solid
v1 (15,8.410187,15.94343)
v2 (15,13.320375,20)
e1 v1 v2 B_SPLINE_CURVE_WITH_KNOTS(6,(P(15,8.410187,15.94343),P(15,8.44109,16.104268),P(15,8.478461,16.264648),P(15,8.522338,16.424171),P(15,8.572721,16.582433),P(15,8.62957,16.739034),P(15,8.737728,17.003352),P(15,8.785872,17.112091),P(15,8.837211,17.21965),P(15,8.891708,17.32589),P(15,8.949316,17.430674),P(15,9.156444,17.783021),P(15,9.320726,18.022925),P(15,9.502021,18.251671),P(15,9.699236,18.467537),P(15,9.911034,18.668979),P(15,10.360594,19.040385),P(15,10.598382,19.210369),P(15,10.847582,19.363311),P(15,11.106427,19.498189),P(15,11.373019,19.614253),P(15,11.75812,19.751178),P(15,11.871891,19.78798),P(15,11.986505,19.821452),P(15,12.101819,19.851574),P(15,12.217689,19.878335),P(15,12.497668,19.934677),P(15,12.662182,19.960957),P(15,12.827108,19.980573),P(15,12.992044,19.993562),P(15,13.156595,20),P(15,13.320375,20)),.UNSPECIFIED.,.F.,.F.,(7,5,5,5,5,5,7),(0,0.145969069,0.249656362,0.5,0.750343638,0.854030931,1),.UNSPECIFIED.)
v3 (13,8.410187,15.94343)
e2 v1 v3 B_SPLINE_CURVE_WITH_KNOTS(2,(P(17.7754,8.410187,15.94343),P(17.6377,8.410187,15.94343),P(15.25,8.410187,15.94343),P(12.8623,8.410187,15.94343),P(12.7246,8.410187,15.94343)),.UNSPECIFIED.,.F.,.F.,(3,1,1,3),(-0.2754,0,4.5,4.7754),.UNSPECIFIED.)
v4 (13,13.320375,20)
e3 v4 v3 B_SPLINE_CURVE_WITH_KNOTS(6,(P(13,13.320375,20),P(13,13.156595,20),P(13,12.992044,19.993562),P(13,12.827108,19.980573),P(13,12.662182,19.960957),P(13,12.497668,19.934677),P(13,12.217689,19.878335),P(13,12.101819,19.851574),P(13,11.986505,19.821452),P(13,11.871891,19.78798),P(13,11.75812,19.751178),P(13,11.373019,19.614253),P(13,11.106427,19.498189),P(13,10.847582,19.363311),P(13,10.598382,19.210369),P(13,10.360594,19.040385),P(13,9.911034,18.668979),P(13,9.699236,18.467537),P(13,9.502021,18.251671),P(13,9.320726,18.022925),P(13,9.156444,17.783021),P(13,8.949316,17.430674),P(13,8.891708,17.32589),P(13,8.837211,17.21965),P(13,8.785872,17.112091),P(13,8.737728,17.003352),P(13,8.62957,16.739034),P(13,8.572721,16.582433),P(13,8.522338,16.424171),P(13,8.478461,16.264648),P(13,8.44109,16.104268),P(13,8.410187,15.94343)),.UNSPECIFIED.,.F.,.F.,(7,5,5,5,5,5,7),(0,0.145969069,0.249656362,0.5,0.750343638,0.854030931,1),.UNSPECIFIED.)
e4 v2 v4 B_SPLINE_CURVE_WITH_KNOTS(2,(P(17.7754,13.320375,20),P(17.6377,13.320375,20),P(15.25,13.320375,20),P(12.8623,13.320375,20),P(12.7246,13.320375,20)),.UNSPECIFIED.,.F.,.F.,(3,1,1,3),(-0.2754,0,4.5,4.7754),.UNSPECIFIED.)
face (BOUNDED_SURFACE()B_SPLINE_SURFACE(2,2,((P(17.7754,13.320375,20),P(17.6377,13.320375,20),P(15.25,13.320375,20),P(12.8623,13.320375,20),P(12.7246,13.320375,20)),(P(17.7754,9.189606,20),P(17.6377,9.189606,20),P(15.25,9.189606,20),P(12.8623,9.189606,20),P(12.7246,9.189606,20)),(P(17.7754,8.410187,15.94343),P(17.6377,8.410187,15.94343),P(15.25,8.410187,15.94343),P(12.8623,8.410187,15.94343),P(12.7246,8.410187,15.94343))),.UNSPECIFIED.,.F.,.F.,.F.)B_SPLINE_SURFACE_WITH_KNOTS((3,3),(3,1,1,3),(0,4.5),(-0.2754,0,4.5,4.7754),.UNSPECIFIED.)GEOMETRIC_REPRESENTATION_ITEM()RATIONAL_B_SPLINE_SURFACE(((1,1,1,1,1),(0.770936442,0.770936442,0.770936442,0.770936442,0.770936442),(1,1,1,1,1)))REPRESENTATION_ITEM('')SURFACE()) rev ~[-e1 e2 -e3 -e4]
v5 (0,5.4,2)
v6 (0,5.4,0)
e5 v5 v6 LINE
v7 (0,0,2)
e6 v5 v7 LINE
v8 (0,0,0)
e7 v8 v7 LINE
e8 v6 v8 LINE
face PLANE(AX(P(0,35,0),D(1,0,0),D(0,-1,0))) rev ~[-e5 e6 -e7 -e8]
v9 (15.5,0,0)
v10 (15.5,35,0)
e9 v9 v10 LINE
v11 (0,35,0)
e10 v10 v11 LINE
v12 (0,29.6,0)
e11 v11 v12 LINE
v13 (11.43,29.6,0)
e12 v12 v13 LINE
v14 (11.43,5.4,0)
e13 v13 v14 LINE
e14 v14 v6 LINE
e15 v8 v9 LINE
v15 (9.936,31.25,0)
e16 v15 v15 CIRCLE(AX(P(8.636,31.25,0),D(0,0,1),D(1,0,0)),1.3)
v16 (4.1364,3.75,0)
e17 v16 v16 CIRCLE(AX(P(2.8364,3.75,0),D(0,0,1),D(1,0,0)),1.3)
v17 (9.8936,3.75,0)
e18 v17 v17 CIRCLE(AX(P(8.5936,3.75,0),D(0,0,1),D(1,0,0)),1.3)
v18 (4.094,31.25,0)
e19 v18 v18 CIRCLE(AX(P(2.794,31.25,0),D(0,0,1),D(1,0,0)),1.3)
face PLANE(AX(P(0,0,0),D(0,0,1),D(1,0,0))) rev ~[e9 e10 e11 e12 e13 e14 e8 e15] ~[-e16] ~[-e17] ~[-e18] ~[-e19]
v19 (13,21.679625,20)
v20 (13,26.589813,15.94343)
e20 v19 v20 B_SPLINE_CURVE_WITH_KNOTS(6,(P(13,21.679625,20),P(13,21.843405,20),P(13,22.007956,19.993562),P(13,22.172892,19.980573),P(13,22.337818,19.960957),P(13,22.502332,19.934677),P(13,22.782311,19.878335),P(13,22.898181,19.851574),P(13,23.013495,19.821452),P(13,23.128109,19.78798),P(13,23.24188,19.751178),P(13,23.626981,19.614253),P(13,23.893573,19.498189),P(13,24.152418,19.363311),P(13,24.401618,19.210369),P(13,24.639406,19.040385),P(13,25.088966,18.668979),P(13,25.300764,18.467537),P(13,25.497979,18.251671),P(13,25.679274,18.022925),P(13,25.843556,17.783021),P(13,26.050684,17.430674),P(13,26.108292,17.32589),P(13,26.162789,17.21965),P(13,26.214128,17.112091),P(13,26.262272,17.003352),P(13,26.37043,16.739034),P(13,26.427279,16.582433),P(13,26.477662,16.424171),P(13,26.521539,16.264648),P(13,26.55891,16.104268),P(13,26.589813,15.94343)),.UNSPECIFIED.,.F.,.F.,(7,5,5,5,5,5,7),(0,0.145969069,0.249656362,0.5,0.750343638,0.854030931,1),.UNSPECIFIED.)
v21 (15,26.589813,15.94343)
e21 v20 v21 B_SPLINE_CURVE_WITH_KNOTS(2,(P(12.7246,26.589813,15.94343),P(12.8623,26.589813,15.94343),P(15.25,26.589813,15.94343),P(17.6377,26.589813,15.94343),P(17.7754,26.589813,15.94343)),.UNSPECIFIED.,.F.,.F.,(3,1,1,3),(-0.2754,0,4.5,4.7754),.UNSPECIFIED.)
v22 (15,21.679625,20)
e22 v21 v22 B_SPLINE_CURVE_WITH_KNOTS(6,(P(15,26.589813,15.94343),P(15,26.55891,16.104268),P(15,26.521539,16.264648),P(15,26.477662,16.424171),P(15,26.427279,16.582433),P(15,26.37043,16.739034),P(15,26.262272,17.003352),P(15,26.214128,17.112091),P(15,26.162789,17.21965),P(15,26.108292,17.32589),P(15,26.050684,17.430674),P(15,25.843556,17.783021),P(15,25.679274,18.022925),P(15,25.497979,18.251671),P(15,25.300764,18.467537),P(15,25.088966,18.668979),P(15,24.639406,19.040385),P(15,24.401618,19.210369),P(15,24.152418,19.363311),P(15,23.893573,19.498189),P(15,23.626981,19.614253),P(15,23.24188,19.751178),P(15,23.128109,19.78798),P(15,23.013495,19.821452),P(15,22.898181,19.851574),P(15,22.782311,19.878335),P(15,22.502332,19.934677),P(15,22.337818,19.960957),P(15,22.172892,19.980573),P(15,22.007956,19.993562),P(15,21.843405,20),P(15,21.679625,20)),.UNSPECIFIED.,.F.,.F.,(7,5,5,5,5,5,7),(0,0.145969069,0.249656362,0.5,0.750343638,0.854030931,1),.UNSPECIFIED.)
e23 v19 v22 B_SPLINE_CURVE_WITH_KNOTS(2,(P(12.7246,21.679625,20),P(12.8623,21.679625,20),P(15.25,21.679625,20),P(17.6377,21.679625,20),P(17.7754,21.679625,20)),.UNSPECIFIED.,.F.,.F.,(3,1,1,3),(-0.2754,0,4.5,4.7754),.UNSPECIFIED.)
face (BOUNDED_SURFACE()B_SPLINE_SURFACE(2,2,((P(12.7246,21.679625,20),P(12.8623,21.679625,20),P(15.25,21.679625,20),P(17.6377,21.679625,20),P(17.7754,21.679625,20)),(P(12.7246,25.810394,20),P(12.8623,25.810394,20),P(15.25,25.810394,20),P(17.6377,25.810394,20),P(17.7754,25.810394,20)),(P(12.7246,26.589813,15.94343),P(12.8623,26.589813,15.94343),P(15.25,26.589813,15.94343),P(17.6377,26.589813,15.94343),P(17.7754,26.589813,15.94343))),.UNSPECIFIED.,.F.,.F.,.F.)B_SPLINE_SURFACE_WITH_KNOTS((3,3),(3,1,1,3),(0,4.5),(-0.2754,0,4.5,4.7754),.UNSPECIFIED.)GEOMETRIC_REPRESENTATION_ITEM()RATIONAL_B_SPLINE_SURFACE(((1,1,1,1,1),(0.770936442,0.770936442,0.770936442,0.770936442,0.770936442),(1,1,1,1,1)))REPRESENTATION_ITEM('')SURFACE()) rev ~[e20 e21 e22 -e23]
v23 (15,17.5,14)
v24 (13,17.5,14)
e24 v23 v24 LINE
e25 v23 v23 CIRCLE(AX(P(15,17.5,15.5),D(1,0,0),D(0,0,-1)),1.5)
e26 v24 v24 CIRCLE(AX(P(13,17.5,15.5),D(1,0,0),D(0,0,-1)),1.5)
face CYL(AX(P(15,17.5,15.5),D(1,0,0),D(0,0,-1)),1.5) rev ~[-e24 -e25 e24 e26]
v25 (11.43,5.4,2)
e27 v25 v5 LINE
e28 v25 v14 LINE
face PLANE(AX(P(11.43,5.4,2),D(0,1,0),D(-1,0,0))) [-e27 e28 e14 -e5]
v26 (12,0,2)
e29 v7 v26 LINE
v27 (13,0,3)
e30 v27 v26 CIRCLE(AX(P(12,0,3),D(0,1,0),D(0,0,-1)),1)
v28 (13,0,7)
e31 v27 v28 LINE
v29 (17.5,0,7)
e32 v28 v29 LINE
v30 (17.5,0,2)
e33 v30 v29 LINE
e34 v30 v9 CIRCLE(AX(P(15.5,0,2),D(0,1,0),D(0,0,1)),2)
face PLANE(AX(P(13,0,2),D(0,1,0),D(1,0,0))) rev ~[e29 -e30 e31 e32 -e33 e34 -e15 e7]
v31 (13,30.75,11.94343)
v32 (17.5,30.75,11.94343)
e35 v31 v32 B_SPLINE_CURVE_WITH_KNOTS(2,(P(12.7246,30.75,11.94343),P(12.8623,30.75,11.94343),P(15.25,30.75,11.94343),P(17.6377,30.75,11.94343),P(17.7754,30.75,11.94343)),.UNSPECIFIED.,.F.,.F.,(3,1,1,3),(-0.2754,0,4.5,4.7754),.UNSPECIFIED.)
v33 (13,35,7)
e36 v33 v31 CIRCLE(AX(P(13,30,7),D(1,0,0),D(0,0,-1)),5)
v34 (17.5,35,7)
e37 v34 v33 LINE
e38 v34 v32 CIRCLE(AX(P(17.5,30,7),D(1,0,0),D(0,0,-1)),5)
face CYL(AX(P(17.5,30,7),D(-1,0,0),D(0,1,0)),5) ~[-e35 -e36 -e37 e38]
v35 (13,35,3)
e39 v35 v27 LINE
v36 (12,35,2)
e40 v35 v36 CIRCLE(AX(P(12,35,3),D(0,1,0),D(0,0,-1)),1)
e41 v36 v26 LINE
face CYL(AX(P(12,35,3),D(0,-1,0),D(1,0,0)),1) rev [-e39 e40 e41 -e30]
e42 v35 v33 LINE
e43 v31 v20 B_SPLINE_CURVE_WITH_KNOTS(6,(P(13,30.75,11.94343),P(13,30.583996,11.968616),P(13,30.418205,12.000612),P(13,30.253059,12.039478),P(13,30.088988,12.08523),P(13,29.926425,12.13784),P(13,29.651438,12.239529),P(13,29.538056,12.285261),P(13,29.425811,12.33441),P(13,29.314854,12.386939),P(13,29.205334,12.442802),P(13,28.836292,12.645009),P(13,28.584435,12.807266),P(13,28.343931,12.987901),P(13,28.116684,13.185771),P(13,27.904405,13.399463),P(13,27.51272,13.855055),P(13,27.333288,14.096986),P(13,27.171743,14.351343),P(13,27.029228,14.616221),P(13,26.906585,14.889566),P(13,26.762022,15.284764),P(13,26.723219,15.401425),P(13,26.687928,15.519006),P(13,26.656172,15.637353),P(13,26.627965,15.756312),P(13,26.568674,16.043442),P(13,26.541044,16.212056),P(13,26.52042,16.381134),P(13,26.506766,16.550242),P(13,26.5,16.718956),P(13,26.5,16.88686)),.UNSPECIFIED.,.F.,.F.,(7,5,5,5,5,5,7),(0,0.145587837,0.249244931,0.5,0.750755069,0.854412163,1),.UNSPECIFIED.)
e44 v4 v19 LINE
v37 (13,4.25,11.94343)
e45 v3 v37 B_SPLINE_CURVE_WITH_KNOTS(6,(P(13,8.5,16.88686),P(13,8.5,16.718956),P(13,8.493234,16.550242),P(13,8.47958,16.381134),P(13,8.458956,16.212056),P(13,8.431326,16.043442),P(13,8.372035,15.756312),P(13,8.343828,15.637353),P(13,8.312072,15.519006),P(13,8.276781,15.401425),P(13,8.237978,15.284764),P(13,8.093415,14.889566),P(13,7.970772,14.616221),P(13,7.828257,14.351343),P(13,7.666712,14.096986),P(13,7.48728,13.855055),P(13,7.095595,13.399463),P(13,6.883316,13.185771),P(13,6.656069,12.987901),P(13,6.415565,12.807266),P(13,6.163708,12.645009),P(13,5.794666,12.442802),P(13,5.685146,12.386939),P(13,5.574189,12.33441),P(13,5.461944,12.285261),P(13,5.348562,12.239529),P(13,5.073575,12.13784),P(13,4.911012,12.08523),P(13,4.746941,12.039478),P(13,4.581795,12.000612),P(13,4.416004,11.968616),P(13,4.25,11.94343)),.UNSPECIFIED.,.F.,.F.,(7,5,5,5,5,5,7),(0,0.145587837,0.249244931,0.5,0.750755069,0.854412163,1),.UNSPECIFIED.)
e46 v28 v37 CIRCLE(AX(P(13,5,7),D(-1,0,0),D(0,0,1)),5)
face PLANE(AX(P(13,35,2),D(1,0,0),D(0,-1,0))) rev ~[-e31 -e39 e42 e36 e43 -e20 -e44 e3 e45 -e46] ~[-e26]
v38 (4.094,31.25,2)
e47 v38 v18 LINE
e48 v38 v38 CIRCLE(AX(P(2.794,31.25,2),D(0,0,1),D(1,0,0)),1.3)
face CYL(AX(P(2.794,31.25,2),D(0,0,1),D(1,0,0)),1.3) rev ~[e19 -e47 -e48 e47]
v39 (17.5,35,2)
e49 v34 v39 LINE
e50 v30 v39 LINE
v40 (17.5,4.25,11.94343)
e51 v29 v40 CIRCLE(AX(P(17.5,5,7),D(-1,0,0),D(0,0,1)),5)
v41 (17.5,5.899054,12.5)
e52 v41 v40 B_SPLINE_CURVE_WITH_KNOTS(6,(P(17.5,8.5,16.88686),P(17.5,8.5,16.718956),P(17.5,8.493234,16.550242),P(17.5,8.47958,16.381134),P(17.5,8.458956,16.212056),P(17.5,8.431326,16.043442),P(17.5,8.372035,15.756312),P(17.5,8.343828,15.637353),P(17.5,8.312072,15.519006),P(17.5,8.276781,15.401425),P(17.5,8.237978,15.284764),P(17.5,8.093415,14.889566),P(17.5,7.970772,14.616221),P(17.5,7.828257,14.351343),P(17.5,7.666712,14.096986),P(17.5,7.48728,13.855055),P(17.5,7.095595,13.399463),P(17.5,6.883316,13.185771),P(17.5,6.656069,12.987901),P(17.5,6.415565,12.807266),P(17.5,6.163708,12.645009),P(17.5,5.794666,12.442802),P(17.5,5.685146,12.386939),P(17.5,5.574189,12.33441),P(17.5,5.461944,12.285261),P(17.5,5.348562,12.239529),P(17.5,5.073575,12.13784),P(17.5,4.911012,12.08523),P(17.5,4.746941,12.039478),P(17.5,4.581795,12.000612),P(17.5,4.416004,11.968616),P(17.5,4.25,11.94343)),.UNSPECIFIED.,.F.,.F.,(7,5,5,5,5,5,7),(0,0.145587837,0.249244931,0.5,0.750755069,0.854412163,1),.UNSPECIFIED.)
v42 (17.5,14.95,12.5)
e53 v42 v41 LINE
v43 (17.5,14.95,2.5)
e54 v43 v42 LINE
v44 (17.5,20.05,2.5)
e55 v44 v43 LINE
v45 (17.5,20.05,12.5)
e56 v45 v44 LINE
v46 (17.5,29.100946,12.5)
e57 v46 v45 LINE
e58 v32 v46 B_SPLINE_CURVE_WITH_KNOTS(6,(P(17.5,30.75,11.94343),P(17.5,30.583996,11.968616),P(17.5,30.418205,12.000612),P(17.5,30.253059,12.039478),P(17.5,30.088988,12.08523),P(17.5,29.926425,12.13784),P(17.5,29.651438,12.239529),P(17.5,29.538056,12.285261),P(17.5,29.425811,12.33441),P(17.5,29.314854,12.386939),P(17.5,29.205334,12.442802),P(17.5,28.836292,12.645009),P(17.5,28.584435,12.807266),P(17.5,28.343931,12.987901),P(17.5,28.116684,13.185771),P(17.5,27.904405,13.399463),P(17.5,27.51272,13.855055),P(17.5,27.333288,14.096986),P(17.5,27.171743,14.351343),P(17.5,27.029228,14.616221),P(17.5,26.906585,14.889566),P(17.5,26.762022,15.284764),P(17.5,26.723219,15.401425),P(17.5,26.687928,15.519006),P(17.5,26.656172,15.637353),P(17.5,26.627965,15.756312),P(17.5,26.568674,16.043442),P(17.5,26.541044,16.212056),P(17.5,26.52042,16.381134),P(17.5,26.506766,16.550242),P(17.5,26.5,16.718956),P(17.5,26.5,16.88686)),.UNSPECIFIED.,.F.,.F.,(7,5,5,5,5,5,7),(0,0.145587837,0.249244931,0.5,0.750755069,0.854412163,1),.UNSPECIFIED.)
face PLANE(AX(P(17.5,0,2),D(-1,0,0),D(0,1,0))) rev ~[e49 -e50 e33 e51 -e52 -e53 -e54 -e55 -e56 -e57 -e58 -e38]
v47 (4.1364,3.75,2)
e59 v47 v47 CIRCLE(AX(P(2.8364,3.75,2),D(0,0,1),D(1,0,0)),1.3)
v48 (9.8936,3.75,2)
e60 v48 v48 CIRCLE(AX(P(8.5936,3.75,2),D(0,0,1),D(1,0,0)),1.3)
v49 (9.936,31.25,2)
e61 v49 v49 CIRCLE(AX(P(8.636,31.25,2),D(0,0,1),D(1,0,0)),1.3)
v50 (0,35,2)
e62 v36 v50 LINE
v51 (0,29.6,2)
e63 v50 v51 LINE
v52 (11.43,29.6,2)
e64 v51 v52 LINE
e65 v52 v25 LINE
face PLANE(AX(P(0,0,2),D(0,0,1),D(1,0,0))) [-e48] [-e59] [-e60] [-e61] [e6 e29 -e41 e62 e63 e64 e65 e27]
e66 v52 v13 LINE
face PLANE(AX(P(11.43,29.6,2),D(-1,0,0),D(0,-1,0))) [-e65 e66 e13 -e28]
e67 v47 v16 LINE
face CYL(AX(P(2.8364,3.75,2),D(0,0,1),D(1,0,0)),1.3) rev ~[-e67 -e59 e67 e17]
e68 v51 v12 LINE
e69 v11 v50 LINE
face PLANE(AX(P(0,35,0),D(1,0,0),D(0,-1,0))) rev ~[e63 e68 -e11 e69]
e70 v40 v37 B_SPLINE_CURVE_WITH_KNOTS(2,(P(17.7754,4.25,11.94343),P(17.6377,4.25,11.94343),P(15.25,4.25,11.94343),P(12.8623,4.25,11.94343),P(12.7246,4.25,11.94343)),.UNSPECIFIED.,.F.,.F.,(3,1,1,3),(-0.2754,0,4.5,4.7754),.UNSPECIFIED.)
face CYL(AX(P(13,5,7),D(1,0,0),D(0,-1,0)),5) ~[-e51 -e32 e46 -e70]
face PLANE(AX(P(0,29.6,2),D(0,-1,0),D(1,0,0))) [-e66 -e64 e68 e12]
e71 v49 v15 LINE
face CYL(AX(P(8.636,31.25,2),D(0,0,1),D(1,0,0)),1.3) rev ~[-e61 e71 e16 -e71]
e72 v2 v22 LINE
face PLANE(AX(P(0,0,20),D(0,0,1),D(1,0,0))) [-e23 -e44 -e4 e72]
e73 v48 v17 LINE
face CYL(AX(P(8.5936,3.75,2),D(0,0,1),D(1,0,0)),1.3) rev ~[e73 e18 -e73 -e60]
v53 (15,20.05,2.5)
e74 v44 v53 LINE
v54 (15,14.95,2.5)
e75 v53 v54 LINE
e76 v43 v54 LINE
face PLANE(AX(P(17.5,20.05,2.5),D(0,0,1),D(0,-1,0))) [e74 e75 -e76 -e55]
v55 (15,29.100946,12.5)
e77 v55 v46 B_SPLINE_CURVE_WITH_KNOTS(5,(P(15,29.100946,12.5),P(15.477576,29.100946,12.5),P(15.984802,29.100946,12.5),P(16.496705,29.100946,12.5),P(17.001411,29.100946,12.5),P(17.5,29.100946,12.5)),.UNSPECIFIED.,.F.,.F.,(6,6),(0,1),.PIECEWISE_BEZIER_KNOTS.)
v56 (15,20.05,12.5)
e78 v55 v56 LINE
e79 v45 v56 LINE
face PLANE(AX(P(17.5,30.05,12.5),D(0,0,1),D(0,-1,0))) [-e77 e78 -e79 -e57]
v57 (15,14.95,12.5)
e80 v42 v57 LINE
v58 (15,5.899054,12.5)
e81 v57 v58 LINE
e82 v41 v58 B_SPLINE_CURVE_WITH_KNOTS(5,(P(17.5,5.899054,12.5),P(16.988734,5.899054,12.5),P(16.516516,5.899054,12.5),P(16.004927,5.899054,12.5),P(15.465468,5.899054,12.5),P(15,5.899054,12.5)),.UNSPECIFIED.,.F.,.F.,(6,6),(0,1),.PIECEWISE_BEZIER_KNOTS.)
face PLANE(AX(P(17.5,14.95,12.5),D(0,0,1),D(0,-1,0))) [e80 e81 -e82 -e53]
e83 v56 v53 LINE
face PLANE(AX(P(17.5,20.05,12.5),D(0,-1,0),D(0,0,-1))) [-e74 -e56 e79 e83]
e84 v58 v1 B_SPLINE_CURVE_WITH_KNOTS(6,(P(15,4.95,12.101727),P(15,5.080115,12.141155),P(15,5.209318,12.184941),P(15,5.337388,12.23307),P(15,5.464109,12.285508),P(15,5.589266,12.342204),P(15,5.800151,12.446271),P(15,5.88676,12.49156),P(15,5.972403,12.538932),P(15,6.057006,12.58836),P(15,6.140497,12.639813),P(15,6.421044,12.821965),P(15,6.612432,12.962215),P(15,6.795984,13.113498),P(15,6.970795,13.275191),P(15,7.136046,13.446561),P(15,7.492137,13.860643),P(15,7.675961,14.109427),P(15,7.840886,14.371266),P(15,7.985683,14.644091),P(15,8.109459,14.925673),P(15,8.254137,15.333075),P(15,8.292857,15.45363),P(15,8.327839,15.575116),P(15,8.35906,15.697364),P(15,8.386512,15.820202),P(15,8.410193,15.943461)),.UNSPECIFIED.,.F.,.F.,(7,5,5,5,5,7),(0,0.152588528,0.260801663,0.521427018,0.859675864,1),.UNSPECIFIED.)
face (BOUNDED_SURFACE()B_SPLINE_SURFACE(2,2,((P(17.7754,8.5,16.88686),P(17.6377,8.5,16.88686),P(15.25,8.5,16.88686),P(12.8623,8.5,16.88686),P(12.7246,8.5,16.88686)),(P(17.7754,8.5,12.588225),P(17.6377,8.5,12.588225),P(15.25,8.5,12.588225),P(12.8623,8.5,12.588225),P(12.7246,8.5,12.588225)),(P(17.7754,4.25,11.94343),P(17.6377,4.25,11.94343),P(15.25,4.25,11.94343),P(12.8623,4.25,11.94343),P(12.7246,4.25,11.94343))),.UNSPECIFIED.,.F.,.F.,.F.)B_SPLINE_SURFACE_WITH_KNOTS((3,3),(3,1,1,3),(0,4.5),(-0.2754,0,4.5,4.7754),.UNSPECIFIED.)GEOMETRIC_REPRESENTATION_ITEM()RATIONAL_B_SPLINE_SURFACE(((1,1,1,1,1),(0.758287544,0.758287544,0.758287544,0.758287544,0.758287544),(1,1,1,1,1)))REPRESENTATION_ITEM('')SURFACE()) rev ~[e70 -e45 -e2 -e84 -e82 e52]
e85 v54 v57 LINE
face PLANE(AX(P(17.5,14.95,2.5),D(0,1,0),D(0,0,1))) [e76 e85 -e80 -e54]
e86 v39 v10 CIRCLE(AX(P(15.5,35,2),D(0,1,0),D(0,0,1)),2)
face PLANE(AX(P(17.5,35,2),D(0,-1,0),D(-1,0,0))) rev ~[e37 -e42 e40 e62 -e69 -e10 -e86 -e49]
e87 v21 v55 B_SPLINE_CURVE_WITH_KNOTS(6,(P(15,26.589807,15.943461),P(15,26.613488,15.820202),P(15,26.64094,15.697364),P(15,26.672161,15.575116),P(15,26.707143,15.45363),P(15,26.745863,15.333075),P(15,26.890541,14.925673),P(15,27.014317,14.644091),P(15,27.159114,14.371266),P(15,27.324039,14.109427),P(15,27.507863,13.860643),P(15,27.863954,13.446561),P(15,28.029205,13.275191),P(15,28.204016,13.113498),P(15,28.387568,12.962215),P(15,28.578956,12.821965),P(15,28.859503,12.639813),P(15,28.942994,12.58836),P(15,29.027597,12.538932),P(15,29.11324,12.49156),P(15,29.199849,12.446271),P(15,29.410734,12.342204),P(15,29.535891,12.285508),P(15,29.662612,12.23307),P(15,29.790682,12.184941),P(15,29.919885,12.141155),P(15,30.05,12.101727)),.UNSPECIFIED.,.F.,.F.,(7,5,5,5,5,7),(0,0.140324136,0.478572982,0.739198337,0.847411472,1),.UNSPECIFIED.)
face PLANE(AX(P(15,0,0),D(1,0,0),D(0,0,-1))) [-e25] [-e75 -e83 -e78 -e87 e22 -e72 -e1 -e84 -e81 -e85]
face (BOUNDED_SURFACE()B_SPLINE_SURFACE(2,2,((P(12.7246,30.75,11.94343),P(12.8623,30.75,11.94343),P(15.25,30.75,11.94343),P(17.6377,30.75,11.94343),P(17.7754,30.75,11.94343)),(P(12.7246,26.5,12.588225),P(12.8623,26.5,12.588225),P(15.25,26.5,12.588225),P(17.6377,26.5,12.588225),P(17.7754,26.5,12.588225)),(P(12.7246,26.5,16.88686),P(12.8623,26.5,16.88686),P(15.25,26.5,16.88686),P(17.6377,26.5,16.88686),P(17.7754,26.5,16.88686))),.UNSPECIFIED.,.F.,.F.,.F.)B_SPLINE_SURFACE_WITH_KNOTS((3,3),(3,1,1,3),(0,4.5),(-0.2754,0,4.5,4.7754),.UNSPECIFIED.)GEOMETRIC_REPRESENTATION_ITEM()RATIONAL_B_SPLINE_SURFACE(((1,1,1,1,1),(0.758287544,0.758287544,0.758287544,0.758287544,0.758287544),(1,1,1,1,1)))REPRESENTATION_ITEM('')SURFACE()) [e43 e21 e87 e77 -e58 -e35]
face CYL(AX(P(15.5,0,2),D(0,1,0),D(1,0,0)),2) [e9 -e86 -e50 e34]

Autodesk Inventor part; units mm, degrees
ref_plane "YZ Plane" through (0, 0, 0) normal (1, 0, 0) x (0, 1, 0)
ref_plane "XZ Plane" through (0, 0, 0) normal (0, 1, 0) x (-1, 0, 0)
ref_plane "XY Plane" through (0, 0, 0) normal (0, 0, 1) x (1, 0, 0)
sketch "Esquisse1" plane through (0, 0, 0) normal (0, 0, 1) x (1, 0, 0)
  line L0 (0, 0) -> (17.5, 0)
  line L1 (17.5, 0) -> (17.5, 35)
  line L2 (17.5, 35) -> (0, 35)
  line L3 (0, 35) -> (0, 0)
  dimension "d0" = 35
  dimension "d1" = 17.5
extrude "Extrusion1" add sketch "Esquisse1" along normal blind 2
sketch "Esquisse2" plane through (0, 0, 2) normal (0, 0, 1) x (1, 0, 0)
  line L0 (0, 0) -> (17.5, 0) projected
  line L1 (17.5, 35) -> (0, 35) projected
  line L2 (0, 35) -> (0, 0) projected
  line L3 (0, 29.6) -> (11.43, 29.6)
  line L4 (11.43, 29.6) -> (11.43, 5.4)
  line L5 (11.43, 5.4) -> (0, 5.4)
  line L6 (0, 5.4) -> (0, 29.6)
  line L7 (11.43, 29.6) -> (11.43, 35) construction
  line L8 (11.43, 5.4) -> (11.43, 0) construction
  circle A0 centre (2.794, 31.25) radius 1.3
  circle A1 centre (8.636, 31.25) radius 1.3
  line L9 (11.43, 17.5) -> (0, 17.5) construction
  circle A2 centre (2.8364, 3.75) radius 1.3
  circle A3 centre (8.5936, 3.75) radius 1.3
  line L10 (8.5936, 3.75) -> (2.8364, 3.75) construction
  line L11 (8.636, 31.25) -> (2.794, 31.25) construction
  line L12 (5.715, 31.25) -> (5.715, 17.5) construction
  line L13 (5.715, 17.5) -> (5.715, 3.75) construction
  line L14 (2.794, 31.25) -> (0, 31.25) construction
  line L15 (8.636, 31.25) -> (11.43, 31.25) construction
  dimension "d4" = 24.2
  dimension "d6" = 11.43
  dimension "d7" = 5.842
  dimension "d8" = 27.5
  dimension "d9" = 2.6
extrude "Extrusion2" cut sketch "Esquisse2" against normal blind 4.5
sketch "Esquisse3" plane through (0, 0, 2) normal (0, 0, 1) x (1, 0, 0)
  line L0 (0, 0) -> (17.5, 0) projected
  line L1 (17.5, 35) -> (13, 35)
  line L2 (13, 35) -> (13, 0)
  line L3 (13, 0) -> (17.5, 0)
  line L4 (17.5, 0) -> (17.5, 35)
  dimension "d12" = 4.5
extrude "Extrusion3" add sketch "Esquisse3" along normal blind 10
sketch "Esquisse6" plane through (0, 0, 12) normal (0, 0, 1) x (1, 0, 0)
  line L0 (13, 0) -> (17.5, 0) construction
  line L1 (17.5, 0) -> (17.5, 35) construction
  line L2 (17.5, 35) -> (13, 35) construction
  line L3 (13, 35) -> (13, 0) construction
  line L4 (13, 26.5) -> (17.5, 26.5)
  line L5 (17.5, 26.5) -> (17.5, 8.5)
  line L6 (17.5, 8.5) -> (13, 8.5)
  line L7 (13, 8.5) -> (13, 26.5)
  line L8 (15.25, 26.5) -> (15.25, 35) construction
  line L9 (15.25, 8.5) -> (15.25, 0) construction
  point P0 (0, 0)
  dimension "d28" = 18
extrude "Extrusion6" add sketch "Esquisse6" along normal blind 8
fillet "Congé2" radius 5 2 edges at (15.25, 0, 12) (15.25, 35, 12)
fillet "Congé3" radius 5 4 edges at (15.25, 26.5, 12) (15.25, 8.5, 12) (15.25, 26.5, 20) (15.25, 8.5, 20)
sketch "Esquisse4" plane through (17.5, 0, 0) normal (1, 0, 0) x (0, 0, -1)
  line L0 (0, 0) -> (0, 35) construction
  line L1 (0, 35) -> (-12, 35) construction
  line L2 (0, 0) -> (-12, 0) construction
  line L3 (-27.5, 30.05) -> (-12.5, 30.05)
  line L4 (-12.5, 30.05) -> (-12.5, 20.05)
  line L5 (-12.5, 20.05) -> (-2.5, 20.05)
  line L6 (-2.5, 20.05) -> (-2.5, 14.95)
  line L7 (-2.5, 14.95) -> (-12.5, 14.95)
  line L8 (-12.5, 14.95) -> (-12.5, 4.95)
  line L9 (-12.5, 4.95) -> (-27.5, 4.95)
  line L10 (-27.5, 4.95) -> (-27.5, 30.05)
  line L11 (-7.5, 20.05) -> (-7.5, 35) construction
  line L12 (-7.5, 14.95) -> (-7.5, 0) construction
  dimension "d15" = 10
  dimension "d17" = 5.1
  dimension "d18" = 2.5
  dimension "d19" = 15
extrude "Extrusion4" cut sketch "Esquisse4" against normal blind 2.5
sketch "Esquisse5" plane through (15, 0, 0) normal (1, 0, 0) x (0, 0, -1)
  line L0 (-12.5, 29.1009) -> (-12.5, 20.05) construction
  circle A0 centre (-15.5, 17.5) radius 1.5
  line L1 (-15.5, 17.5) -> (-12.5, 20.05) construction
  line L2 (-15.5, 17.5) -> (-12.5, 14.95) construction
  point P0 (-12.5, 4.95)
  point P1 (-12.5, 30.05)
  point P2 (0, 0)
  point P3 (-12.5, 29)
  dimension "d22" = 3
  dimension "d23" = 3
extrude "Extrusion5" cut sketch "Esquisse5" against normal up to next
fillet "Congé1" radius 2 1 edges at (17.5, 17.5, 0)
fillet "Congé4" radius 1 1 edges at (13, 17.5, 2)
properties part number "Pantilt"
